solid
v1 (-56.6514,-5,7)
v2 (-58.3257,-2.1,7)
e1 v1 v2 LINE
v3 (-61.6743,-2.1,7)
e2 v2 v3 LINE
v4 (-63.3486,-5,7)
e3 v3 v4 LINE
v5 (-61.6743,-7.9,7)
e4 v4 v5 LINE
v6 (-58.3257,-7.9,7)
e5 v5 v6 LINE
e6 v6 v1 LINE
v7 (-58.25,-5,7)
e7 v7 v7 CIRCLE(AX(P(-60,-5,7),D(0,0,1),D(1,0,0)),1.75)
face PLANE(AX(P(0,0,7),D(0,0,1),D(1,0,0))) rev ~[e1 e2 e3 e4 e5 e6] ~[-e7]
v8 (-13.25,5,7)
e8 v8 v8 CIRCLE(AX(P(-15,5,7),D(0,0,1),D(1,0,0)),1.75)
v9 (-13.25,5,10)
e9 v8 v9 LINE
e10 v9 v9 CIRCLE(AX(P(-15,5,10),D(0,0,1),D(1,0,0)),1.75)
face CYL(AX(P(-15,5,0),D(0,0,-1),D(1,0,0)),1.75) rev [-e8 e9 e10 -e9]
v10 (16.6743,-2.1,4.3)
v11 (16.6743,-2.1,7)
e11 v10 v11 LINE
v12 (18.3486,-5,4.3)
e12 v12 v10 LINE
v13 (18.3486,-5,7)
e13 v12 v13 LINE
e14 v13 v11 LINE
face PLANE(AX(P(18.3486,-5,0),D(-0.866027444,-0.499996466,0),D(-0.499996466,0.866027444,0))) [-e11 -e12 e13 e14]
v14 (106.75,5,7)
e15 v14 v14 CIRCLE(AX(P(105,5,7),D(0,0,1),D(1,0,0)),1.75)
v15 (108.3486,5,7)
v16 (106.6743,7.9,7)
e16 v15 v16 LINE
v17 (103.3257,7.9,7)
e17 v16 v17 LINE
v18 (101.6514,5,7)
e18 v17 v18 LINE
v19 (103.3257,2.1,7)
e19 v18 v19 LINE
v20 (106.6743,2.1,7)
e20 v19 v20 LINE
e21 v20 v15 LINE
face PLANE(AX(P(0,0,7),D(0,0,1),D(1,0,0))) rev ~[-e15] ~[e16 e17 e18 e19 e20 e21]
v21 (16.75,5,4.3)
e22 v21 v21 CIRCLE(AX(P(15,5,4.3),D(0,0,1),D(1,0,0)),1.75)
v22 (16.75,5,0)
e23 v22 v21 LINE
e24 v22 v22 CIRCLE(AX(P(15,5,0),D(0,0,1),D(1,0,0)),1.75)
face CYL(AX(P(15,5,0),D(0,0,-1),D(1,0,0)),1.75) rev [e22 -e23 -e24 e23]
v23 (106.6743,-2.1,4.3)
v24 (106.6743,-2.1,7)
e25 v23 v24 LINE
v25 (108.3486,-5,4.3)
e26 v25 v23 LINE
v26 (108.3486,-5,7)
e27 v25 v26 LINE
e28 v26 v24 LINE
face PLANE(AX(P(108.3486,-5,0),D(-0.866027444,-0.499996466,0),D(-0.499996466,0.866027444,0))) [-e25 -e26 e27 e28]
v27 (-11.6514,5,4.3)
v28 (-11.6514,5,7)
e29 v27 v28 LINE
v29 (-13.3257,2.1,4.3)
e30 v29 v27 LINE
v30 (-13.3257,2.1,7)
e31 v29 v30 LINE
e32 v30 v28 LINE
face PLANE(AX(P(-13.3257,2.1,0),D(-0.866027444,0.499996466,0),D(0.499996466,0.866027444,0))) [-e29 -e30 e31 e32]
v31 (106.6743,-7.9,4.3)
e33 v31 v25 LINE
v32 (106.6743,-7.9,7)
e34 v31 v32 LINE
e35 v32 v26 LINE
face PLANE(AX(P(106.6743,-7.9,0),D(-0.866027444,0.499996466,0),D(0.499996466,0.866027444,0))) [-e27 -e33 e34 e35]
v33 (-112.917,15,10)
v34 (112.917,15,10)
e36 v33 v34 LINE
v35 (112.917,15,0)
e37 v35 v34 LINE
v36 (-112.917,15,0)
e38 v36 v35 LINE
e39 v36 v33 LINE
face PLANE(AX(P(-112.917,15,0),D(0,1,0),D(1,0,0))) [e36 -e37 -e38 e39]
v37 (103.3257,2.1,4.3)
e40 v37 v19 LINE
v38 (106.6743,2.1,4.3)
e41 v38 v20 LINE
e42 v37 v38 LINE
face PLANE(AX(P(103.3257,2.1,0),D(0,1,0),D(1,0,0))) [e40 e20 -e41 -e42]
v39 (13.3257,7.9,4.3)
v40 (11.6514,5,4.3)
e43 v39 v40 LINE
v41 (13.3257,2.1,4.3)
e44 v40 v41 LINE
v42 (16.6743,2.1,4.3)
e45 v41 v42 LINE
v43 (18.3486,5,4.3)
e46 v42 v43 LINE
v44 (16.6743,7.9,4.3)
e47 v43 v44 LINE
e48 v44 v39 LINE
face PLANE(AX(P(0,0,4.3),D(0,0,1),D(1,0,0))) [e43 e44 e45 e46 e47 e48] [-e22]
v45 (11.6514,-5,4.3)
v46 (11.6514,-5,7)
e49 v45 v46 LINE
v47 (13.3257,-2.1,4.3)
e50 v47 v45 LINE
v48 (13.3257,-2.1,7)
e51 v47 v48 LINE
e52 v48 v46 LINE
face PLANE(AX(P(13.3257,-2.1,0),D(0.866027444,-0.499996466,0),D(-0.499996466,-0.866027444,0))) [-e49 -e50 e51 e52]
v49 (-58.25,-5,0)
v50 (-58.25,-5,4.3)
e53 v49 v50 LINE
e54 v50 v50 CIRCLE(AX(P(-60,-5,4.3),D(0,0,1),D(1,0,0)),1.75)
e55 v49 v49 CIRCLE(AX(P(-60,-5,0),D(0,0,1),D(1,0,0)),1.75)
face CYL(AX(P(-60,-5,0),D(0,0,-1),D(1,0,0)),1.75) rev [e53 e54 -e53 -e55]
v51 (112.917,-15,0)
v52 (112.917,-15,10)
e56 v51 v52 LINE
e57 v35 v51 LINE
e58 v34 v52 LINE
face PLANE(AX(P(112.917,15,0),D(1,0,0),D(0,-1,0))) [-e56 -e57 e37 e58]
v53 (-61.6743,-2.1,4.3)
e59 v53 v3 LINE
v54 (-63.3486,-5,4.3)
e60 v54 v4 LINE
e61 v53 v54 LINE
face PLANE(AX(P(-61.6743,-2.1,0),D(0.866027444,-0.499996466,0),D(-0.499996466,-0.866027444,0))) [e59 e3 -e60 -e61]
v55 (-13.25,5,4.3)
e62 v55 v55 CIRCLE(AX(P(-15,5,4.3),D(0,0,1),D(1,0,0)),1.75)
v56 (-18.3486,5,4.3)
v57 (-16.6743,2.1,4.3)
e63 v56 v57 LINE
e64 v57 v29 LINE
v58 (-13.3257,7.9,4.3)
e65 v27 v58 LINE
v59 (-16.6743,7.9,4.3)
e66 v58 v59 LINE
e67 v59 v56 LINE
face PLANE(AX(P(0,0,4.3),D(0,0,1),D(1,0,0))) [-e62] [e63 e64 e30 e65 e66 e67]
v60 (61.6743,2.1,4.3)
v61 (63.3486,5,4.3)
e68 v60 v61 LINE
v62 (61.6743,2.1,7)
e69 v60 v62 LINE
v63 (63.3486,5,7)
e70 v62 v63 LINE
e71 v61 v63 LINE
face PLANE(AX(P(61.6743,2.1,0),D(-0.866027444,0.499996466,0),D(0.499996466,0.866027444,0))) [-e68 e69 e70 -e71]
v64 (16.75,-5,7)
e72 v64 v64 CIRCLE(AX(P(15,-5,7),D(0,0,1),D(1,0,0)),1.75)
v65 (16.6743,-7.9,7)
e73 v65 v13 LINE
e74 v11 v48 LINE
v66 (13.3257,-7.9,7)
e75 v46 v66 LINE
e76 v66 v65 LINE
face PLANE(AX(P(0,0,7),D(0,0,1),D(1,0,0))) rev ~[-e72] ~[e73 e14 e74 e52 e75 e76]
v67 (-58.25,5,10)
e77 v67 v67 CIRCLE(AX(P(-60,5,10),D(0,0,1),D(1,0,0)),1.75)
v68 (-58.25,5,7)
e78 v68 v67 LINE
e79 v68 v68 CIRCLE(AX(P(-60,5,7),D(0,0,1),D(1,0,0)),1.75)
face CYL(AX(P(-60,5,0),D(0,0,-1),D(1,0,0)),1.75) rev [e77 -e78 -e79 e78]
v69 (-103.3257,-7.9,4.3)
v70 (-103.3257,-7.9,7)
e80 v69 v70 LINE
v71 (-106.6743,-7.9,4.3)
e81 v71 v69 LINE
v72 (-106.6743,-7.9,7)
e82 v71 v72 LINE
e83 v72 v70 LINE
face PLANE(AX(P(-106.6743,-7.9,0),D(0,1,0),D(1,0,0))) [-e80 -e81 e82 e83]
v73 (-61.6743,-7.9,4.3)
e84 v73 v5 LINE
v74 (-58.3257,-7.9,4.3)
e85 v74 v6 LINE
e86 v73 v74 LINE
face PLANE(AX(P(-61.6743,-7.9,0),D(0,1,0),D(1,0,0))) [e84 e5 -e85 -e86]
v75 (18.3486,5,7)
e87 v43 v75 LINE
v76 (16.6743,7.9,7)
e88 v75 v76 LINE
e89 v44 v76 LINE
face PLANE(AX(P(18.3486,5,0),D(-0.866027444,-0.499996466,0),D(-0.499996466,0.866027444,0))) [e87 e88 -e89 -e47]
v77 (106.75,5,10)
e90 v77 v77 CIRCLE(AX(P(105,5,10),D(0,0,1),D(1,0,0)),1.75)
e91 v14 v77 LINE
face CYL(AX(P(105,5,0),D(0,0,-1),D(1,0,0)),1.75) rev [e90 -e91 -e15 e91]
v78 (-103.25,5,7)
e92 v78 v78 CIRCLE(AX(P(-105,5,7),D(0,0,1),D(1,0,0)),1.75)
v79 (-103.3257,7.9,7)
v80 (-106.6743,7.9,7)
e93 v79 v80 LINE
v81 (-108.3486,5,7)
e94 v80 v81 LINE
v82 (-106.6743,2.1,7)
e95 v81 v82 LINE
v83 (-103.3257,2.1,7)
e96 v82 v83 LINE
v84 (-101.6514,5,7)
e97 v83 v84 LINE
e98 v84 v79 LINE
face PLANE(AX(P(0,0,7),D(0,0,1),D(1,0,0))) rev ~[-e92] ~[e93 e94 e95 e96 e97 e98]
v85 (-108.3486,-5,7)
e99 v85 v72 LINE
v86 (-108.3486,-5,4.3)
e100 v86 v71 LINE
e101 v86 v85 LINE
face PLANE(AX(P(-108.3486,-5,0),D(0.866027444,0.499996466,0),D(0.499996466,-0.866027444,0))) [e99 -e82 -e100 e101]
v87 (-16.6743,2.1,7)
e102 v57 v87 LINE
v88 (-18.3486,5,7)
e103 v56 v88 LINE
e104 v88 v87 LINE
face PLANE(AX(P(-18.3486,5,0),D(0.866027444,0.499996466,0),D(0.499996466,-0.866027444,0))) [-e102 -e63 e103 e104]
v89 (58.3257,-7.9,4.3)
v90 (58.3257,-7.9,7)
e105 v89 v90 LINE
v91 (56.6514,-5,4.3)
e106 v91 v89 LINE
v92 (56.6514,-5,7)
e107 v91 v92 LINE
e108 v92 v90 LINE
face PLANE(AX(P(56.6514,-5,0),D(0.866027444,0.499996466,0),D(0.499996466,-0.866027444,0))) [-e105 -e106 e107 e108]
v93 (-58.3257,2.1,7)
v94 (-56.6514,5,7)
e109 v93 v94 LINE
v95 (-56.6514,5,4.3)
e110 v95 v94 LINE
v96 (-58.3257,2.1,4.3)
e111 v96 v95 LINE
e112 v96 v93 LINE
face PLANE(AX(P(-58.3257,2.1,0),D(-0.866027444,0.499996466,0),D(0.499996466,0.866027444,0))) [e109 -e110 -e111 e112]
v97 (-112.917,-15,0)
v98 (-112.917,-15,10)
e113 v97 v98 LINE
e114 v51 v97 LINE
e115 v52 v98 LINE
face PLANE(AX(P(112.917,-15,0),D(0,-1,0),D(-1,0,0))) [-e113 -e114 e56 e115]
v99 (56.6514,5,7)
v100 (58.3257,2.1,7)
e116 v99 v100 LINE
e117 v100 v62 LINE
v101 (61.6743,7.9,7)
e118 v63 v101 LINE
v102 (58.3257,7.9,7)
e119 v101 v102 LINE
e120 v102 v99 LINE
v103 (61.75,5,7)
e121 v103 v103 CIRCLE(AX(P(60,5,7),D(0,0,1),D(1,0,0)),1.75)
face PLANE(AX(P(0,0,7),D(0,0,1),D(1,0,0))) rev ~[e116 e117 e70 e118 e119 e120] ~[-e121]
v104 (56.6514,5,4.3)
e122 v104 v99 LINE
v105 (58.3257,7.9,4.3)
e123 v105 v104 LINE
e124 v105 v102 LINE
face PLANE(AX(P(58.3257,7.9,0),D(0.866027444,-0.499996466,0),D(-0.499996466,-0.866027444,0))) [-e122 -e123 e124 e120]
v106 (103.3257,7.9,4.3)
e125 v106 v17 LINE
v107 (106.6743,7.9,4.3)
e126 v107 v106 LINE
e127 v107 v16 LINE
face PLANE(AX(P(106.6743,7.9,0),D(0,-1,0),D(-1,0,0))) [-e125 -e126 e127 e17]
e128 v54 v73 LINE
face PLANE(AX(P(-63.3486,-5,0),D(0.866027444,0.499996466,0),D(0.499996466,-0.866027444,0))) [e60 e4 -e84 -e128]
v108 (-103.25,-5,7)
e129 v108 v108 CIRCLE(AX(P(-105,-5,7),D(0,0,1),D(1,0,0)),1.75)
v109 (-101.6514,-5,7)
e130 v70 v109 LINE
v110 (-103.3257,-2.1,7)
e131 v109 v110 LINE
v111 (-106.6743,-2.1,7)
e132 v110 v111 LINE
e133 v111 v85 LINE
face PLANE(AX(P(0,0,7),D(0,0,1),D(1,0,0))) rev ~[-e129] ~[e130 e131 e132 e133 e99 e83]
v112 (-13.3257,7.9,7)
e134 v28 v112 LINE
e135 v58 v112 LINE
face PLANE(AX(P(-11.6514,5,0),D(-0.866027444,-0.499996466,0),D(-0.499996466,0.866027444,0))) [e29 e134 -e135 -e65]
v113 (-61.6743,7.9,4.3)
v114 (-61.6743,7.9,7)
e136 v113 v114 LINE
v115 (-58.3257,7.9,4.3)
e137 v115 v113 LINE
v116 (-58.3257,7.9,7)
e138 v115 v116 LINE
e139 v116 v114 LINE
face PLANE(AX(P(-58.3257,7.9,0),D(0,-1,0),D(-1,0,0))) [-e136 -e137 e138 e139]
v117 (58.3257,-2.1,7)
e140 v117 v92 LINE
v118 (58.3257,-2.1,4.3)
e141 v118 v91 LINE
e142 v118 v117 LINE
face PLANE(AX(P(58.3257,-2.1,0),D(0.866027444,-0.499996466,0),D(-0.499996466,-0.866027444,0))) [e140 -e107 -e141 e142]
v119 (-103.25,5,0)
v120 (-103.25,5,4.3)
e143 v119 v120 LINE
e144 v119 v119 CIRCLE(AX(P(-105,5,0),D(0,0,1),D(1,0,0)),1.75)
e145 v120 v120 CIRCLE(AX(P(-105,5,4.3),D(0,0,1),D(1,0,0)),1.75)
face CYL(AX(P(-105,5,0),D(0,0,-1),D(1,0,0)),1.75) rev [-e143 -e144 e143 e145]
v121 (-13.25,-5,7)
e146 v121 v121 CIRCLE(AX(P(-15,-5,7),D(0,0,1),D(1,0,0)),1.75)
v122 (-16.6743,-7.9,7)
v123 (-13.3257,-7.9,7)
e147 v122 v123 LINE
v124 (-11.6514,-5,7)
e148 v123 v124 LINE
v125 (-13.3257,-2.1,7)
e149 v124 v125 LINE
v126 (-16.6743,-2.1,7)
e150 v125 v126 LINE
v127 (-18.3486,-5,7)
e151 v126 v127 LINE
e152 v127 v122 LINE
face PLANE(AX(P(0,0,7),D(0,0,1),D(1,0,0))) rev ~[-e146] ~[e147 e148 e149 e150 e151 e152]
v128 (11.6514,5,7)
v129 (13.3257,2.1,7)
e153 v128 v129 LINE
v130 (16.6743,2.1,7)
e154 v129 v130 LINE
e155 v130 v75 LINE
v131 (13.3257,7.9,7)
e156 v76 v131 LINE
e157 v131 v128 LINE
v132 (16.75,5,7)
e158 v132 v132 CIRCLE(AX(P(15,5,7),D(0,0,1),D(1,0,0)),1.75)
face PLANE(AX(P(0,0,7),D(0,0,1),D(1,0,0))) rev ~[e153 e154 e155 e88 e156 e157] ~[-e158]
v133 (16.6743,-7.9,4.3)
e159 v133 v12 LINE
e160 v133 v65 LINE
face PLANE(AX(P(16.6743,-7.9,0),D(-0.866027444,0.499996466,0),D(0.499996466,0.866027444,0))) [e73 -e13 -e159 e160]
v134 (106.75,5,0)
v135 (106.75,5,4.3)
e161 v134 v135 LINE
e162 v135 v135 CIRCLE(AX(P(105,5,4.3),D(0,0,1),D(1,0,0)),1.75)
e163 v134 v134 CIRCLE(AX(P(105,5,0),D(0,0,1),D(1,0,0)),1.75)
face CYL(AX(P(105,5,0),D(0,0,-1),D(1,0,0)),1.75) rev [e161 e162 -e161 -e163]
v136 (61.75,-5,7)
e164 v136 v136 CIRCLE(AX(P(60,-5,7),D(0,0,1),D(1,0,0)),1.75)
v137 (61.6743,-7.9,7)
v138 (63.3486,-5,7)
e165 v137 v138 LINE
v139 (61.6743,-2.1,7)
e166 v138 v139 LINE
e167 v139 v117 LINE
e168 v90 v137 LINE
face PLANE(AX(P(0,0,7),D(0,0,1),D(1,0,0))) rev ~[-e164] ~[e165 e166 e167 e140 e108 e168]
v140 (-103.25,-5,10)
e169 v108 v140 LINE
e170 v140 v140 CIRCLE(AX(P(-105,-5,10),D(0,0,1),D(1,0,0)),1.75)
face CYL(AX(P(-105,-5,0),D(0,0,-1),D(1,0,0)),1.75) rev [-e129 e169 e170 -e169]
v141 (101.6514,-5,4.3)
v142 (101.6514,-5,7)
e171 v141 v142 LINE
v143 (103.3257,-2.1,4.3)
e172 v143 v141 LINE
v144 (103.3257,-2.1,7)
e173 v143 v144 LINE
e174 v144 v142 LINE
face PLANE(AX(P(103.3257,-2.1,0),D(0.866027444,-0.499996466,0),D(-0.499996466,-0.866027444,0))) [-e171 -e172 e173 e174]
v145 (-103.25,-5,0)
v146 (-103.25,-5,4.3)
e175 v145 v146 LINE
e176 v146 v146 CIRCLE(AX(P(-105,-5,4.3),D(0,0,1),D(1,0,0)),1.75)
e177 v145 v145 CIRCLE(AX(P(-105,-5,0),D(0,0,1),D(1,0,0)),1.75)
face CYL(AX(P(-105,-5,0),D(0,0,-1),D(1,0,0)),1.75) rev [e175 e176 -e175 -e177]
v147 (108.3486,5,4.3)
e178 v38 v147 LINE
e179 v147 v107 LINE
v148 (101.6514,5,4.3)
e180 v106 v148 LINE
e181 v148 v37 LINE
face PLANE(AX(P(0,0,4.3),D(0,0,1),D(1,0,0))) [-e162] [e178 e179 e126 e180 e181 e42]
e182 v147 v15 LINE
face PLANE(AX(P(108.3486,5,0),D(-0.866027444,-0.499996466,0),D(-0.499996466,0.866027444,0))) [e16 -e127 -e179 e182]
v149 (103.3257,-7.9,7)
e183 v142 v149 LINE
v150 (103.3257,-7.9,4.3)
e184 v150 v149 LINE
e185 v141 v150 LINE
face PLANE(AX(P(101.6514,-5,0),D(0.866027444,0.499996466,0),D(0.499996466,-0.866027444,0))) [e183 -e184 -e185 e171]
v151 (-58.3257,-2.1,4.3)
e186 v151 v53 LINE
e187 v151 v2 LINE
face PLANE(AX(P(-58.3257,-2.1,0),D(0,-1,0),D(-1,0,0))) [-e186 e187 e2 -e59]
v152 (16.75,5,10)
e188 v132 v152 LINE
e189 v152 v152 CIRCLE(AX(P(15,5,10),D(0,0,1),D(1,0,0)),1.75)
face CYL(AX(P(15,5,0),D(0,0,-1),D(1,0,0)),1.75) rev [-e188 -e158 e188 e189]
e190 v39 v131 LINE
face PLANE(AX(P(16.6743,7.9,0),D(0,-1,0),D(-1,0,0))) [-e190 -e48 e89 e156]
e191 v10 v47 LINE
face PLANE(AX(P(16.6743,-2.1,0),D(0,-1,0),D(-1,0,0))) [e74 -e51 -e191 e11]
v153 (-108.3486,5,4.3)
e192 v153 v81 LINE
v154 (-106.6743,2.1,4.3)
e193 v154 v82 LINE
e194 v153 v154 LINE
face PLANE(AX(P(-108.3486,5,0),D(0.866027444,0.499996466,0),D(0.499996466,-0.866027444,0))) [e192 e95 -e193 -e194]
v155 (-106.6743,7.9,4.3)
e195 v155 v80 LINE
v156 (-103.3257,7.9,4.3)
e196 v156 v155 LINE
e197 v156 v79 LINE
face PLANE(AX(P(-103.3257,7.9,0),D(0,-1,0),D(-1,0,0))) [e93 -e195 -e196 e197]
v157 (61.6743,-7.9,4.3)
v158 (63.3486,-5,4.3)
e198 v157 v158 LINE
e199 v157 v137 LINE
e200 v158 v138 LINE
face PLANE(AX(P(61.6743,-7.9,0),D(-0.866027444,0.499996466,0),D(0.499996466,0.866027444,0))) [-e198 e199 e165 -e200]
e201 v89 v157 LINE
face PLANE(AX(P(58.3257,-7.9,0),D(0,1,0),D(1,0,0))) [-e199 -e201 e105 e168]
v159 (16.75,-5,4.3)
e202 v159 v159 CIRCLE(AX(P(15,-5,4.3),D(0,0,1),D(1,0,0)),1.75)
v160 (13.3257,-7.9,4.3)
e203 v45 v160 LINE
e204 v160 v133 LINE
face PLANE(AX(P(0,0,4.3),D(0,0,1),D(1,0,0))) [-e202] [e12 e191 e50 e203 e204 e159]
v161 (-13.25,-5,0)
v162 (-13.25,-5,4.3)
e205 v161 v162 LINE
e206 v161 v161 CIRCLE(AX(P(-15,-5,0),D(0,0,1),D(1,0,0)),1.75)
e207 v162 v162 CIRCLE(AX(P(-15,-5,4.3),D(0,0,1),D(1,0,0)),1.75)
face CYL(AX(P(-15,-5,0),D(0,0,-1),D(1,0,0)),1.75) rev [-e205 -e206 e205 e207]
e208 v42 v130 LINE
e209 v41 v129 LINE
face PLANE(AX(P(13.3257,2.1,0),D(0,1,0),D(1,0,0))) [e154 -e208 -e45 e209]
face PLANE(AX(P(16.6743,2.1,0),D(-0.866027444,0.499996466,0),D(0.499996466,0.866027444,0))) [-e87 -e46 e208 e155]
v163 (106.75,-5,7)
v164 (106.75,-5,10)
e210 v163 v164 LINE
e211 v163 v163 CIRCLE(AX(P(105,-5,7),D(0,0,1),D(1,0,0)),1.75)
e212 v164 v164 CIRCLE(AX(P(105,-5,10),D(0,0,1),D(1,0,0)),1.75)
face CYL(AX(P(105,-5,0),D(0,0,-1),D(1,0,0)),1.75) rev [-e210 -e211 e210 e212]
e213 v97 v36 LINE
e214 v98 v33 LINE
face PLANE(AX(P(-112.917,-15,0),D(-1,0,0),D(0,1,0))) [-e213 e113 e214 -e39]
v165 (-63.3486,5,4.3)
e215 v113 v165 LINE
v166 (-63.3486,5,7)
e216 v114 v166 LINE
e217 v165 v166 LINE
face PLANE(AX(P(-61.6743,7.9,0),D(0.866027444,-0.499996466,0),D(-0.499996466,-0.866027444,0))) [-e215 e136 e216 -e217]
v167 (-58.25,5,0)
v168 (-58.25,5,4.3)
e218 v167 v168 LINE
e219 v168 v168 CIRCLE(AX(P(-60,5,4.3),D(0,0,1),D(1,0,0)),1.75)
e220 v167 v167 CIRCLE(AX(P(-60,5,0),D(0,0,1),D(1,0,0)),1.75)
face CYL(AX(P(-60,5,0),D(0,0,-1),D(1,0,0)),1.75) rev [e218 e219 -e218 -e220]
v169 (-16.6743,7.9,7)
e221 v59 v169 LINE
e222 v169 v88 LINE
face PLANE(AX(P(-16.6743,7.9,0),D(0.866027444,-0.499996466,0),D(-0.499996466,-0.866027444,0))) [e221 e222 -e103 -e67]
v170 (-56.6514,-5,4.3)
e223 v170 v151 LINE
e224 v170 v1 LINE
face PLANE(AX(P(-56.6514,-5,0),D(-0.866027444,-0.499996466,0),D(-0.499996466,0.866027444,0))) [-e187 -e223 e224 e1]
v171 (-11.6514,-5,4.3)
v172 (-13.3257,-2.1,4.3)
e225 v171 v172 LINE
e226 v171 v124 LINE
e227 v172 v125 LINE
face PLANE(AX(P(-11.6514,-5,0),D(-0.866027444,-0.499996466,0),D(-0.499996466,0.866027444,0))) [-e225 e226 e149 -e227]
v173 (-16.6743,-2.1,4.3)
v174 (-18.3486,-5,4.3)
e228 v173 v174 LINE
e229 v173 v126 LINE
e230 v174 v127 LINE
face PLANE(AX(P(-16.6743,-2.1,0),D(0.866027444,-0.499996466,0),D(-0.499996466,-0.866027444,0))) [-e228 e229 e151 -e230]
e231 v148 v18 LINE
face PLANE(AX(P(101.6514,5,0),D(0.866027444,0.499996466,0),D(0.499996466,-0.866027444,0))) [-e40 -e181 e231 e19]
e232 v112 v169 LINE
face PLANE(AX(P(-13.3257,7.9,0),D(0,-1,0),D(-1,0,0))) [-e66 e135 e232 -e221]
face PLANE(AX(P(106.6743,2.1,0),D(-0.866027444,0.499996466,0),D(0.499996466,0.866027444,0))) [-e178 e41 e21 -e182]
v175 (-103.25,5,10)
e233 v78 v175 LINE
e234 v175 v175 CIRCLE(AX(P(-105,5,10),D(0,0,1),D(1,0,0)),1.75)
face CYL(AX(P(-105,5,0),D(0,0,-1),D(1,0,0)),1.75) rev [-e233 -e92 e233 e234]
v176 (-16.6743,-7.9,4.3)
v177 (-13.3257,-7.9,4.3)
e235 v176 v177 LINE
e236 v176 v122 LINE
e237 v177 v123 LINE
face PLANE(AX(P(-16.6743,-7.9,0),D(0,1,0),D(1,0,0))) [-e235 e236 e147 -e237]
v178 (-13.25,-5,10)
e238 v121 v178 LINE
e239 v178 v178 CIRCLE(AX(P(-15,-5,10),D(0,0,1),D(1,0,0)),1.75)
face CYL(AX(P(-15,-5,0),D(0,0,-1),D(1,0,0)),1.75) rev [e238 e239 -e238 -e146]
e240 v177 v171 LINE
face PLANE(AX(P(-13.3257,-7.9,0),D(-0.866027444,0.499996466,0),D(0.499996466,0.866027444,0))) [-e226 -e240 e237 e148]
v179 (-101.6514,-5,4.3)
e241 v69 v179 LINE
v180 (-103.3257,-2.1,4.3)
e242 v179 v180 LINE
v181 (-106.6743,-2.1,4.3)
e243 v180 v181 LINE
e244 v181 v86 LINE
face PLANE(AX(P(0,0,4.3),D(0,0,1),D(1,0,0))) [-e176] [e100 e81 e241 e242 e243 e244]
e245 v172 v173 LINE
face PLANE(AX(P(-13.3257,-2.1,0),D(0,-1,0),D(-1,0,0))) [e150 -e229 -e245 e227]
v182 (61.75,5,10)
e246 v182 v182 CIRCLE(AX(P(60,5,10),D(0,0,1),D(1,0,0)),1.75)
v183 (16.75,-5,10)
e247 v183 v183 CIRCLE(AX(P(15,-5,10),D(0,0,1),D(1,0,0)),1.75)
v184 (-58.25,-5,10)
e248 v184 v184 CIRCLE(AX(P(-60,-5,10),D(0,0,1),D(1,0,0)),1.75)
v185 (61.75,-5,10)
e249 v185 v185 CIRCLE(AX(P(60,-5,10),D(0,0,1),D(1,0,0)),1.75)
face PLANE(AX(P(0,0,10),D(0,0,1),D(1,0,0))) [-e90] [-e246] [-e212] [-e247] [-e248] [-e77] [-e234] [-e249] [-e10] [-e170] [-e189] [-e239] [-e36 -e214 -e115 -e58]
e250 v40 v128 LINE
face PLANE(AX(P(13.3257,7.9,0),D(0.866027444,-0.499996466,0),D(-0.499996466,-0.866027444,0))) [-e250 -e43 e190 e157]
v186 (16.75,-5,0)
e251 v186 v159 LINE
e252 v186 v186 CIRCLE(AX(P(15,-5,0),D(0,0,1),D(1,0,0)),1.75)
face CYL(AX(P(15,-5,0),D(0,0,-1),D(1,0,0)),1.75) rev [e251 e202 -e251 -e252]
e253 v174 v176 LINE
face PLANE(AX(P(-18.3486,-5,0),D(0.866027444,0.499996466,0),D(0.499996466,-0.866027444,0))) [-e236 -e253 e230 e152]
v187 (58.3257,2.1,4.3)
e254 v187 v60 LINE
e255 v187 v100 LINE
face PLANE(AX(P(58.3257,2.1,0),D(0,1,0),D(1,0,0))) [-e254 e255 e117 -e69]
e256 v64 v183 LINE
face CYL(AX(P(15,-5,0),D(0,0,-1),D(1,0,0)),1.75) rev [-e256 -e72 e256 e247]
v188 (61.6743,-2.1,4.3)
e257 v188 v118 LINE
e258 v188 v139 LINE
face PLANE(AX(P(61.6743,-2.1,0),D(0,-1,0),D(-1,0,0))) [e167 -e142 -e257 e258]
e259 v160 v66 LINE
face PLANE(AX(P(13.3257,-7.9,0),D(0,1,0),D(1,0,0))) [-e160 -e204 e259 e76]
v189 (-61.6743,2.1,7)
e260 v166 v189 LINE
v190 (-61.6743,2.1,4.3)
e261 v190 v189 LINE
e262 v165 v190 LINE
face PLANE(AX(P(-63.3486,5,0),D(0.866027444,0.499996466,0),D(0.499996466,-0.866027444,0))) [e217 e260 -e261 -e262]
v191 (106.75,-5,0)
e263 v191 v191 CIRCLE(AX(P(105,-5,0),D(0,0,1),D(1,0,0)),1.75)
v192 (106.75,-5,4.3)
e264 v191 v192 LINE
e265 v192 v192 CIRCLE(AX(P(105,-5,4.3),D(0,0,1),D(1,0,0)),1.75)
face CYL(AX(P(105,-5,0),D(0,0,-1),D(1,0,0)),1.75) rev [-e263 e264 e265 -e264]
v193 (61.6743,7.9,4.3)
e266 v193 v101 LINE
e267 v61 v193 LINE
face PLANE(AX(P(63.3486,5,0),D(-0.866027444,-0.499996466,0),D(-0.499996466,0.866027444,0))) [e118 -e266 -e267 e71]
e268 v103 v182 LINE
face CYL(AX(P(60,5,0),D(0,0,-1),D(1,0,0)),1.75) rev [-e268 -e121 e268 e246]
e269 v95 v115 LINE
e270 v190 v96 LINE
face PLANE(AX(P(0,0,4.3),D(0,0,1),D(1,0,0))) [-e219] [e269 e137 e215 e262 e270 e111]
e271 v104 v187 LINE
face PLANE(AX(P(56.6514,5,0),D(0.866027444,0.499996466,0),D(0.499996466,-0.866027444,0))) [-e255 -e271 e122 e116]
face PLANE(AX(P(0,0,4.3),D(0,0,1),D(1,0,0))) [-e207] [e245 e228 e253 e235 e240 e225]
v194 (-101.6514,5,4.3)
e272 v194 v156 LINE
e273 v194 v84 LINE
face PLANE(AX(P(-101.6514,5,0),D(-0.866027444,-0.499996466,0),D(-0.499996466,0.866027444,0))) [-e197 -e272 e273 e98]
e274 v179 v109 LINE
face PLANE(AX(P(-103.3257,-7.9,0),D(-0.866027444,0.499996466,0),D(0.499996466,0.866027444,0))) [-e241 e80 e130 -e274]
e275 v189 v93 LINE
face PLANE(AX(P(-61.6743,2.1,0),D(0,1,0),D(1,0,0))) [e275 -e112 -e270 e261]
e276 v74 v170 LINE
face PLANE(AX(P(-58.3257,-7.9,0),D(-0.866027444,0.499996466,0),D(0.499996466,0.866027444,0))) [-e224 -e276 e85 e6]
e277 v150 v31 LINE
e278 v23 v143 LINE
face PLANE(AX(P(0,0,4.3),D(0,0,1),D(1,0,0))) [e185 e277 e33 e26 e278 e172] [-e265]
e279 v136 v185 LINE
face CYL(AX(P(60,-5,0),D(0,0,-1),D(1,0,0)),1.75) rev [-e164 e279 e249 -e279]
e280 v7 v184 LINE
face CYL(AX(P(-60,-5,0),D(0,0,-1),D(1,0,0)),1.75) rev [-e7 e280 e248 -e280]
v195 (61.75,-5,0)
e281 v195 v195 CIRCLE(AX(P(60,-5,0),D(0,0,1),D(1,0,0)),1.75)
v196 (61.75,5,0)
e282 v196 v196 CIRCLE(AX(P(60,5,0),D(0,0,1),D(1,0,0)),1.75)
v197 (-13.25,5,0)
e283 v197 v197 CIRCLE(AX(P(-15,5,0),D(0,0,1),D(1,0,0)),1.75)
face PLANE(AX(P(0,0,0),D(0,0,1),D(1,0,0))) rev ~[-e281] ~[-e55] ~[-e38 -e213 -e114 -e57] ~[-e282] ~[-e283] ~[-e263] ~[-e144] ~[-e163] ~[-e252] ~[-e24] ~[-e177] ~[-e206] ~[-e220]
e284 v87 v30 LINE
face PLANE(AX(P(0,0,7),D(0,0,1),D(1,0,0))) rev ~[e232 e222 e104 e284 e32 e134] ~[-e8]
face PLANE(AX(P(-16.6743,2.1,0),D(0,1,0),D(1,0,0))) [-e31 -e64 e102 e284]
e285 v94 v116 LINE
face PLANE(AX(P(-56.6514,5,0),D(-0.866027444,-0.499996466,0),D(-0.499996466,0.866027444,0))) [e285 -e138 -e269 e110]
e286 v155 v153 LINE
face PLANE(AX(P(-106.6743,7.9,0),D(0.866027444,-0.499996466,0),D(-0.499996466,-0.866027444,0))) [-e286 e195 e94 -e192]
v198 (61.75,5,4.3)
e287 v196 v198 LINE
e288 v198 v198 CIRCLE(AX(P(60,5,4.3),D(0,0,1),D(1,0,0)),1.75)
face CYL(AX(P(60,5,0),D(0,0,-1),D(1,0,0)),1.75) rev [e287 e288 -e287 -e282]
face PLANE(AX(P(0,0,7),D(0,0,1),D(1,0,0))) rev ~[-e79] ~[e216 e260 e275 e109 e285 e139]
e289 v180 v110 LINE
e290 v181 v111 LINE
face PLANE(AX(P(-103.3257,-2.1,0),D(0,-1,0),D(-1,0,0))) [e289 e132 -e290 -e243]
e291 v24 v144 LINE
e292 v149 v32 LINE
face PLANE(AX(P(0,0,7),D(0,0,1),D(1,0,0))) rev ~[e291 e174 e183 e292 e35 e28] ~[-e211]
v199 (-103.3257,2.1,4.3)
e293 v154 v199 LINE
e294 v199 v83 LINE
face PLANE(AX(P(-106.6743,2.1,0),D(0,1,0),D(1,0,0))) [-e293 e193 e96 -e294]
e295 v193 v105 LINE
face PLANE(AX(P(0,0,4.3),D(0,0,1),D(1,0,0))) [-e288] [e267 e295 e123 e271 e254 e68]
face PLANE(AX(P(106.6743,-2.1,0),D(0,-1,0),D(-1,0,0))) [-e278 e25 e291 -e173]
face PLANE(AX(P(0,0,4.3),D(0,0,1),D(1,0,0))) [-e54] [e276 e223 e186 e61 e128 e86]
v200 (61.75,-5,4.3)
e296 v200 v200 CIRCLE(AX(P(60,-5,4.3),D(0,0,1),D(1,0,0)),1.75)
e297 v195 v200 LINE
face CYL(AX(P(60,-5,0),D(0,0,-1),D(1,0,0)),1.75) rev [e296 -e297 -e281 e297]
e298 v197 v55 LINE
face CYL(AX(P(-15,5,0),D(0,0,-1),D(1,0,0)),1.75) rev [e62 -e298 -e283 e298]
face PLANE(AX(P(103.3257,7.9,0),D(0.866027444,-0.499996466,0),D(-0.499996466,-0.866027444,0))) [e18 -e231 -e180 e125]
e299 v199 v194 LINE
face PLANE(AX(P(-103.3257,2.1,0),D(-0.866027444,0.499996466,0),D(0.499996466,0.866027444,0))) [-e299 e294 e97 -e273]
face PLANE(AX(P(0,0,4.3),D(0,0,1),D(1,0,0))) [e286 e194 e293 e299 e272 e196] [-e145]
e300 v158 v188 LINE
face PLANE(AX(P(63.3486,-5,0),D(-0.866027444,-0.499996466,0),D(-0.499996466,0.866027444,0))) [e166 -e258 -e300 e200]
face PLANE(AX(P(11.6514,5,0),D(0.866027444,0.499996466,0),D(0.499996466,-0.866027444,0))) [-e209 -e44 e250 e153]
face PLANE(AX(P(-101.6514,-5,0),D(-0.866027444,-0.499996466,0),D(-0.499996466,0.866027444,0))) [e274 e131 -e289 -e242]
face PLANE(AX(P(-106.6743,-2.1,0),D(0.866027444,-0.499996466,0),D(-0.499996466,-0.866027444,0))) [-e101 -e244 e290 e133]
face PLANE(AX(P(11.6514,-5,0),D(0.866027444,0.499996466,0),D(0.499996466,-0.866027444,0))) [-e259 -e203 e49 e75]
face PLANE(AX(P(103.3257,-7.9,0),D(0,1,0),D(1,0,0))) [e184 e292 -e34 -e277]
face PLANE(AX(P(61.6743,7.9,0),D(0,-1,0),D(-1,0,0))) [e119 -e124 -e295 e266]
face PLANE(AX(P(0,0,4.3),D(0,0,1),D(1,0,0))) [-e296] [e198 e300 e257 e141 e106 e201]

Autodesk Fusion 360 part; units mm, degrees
sketch "Skizze1" plane through (0, 0, 0) normal (0, 0, 1) x (1, 0, 0)
  line L0 (-127.7175, 0) -> (128.4747, 0) construction
  line L1 (0, 28.1433) -> (0, -31.677) construction
  line L2 (112.917, -15) -> (-112.917, -15)
  line L3 (-112.917, -15) -> (-112.917, 15)
  line L4 (-112.917, 15) -> (112.917, 15)
  line L5 (112.917, 15) -> (112.917, -15)
  line L6 (112.917, -15) -> (-112.917, 15) construction
  line L7 (-112.917, -15) -> (112.917, 15) construction
  line L8 (-118.6623, 5) -> (123.5472, 5) construction
  line L9 (-118.6623, -5) -> (120, -5) construction
  line L10 (15, 23.5796) -> (15, -25.7429) construction
  line L11 (-15, 27) -> (-15, -27) construction
  circle A0 centre (-15, 5) radius 1.75
  circle A1 centre (-15, -5) radius 1.75
  circle A2 centre (15, 5) radius 1.75
  circle A3 centre (15, -5) radius 1.75
  line L12 (-13.3257, 2.1) -> (-11.6514, 5)
  line L13 (-11.6514, 5) -> (-13.3257, 7.9)
  line L14 (-13.3257, 7.9) -> (-16.6743, 7.9)
  line L15 (-16.6743, 7.9) -> (-18.3486, 5)
  line L16 (-18.3486, 5) -> (-16.6743, 2.1)
  line L17 (-16.6743, 2.1) -> (-13.3257, 2.1)
  line L18 (-13.3257, -7.9) -> (-11.6514, -5)
  line L19 (-11.6514, -5) -> (-13.3257, -2.1)
  line L20 (-13.3257, -2.1) -> (-16.6743, -2.1)
  line L21 (-16.6743, -2.1) -> (-18.3486, -5)
  line L22 (-18.3486, -5) -> (-16.6743, -7.9)
  line L23 (-16.6743, -7.9) -> (-13.3257, -7.9)
  line L24 (16.6743, 2.1) -> (18.3486, 5)
  line L25 (18.3486, 5) -> (16.6743, 7.9)
  line L26 (16.6743, 7.9) -> (13.3257, 7.9)
  line L27 (13.3257, 7.9) -> (11.6514, 5)
  line L28 (11.6514, 5) -> (13.3257, 2.1)
  line L29 (13.3257, 2.1) -> (16.6743, 2.1)
  line L30 (16.6743, -7.9) -> (18.3486, -5)
  line L31 (18.3486, -5) -> (16.6743, -2.1)
  line L32 (16.6743, -2.1) -> (13.3257, -2.1)
  line L33 (13.3257, -2.1) -> (11.6514, -5)
  line L34 (11.6514, -5) -> (13.3257, -7.9)
  line L35 (13.3257, -7.9) -> (16.6743, -7.9)
  line L36 (58.3257, 7.9) -> (56.6514, 5)
  line L37 (56.6514, 5) -> (58.3257, 2.1)
  line L38 (58.3257, 2.1) -> (61.6743, 2.1)
  line L39 (61.6743, 2.1) -> (63.3486, 5)
  line L40 (63.3486, 5) -> (61.6743, 7.9)
  line L41 (61.6743, 7.9) -> (58.3257, 7.9)
  circle A4 centre (60, 5) radius 1.75
  line L42 (58.3257, -2.1) -> (56.6514, -5)
  line L43 (56.6514, -5) -> (58.3257, -7.9)
  line L44 (58.3257, -7.9) -> (61.6743, -7.9)
  line L45 (61.6743, -7.9) -> (63.3486, -5)
  line L46 (61.6743, -2.1) -> (58.3257, -2.1)
  line L47 (63.3486, -5) -> (61.6743, -2.1)
  circle A5 centre (60, -5) radius 1.75
  line L48 (103.3257, 7.9) -> (101.6514, 5)
  line L49 (101.6514, 5) -> (103.3257, 2.1)
  line L50 (103.3257, 2.1) -> (106.6743, 2.1)
  line L51 (106.6743, 2.1) -> (108.3486, 5)
  line L52 (108.3486, 5) -> (106.6743, 7.9)
  line L53 (106.6743, 7.9) -> (103.3257, 7.9)
  circle A6 centre (105, 5) radius 1.75
  line L54 (103.3257, -2.1) -> (101.6514, -5)
  line L55 (101.6514, -5) -> (103.3257, -7.9)
  line L56 (103.3257, -7.9) -> (106.6743, -7.9)
  line L57 (106.6743, -7.9) -> (108.3486, -5)
  line L58 (106.6743, -2.1) -> (103.3257, -2.1)
  line L59 (108.3486, -5) -> (106.6743, -2.1)
  circle A7 centre (105, -5) radius 1.75
  line L60 (-58.3257, 7.9) -> (-61.6743, 7.9)
  line L61 (-61.6743, 7.9) -> (-63.3486, 5)
  line L62 (-63.3486, 5) -> (-61.6743, 2.1)
  line L63 (-61.6743, 2.1) -> (-58.3257, 2.1)
  line L64 (-58.3257, 2.1) -> (-56.6514, 5)
  line L65 (-56.6514, 5) -> (-58.3257, 7.9)
  circle A8 centre (-60, 5) radius 1.75
  line L66 (-61.6743, -2.1) -> (-63.3486, -5)
  line L67 (-63.3486, -5) -> (-61.6743, -7.9)
  line L68 (-61.6743, -7.9) -> (-58.3257, -7.9)
  line L69 (-58.3257, -7.9) -> (-56.6514, -5)
  line L70 (-58.3257, -2.1) -> (-61.6743, -2.1)
  line L71 (-56.6514, -5) -> (-58.3257, -2.1)
  circle A9 centre (-60, -5) radius 1.75
  line L72 (-103.3257, 7.9) -> (-106.6743, 7.9)
  line L73 (-106.6743, 7.9) -> (-108.3486, 5)
  line L74 (-108.3486, 5) -> (-106.6743, 2.1)
  line L75 (-106.6743, 2.1) -> (-103.3257, 2.1)
  line L76 (-103.3257, 2.1) -> (-101.6514, 5)
  line L77 (-101.6514, 5) -> (-103.3257, 7.9)
  circle A10 centre (-105, 5) radius 1.75
  line L78 (-106.6743, -2.1) -> (-108.3486, -5)
  line L79 (-108.3486, -5) -> (-106.6743, -7.9)
  line L80 (-106.6743, -7.9) -> (-103.3257, -7.9)
  line L81 (-103.3257, -7.9) -> (-101.6514, -5)
  line L82 (-103.3257, -2.1) -> (-106.6743, -2.1)
  line L83 (-101.6514, -5) -> (-103.3257, -2.1)
  circle A11 centre (-105, -5) radius 1.75
  point P0 (-15, 5)
  point P1 (-15, -5)
  point P2 (15, 5)
  point P3 (15, -5)
  dimension "d1" = 225.834
  dimension "d2" = 30
  dimension "d3" = 5
  dimension "d4" = 5
  dimension "d5" = 15
  dimension "d6" = 15
  dimension "d7" = 3.5
  dimension "d8" = 3.5
  dimension "d9" = 3.5
  dimension "d10" = 3.5
  dimension "d11" = 5.8
  dimension "d12" = 5.8
  dimension "d13" = 5.8
  dimension "d14" = 5.8
  dimension "d17" = 90
  dimension "d18" = 0
  dimension "d21" = -90
  dimension "d22" = 0
extrude "Extrusion1" add sketch "Skizze1" along normal blind 10 contours L2 L3 L4 L5 | L12 L13 L14 L15 L16 L17 | L18 L19 L20 L21 L22 L23 | L24 L25 L26 L27 L28 L29 | L30 L31 L32 L33 L34 L35 | L36 L37 L38 L39 L40 L41 | L42 L43 L44 L45 L46 L47 | L48 L49 L50 L51 L52 L53 | L54 L55 L56 L57 L58 L59 | L60 L61 L62 L63 L64 L65 | L66 L67 L68 L69 L70 L71 | L72 L73 L74 L75 L76 L77 | L78 L79 L80 L81 L82 L83
extrude "Extrusion2" cut sketch "Skizze1" along normal blind 7 contours L12 L13 L14 L15 L16 L17 | L18 L19 L20 L21 L22 L23 | L24 L25 L26 L27 L28 L29 | L30 L31 L32 L33 L34 L35 | L36 L37 L38 L39 L40 L41 | L42 L43 L44 L45 L46 L47 | L48 L49 L50 L51 L52 L53 | L54 L55 L56 L57 L58 L59 | L60 L61 L62 L63 L64 L65 | L66 L67 L68 L69 L70 L71 | L72 L73 L74 L75 L76 L77 | L78 L79 L80 L81 L82 L83
extrude "Extrusion3" add sketch "Skizze1" along normal blind 4.3 contours L12 L13 L14 L15 L16 L17 | L18 L19 L20 L21 L22 L23 | L24 L25 L26 L27 L28 L29 | L30 L31 L32 L33 L34 L35 | L36 L37 L38 L39 L40 L41 | L42 L43 L44 L45 L46 L47 | L48 L49 L50 L51 L52 L53 | L54 L55 L56 L57 L58 L59 | L60 L61 L62 L63 L64 L65 | L66 L67 L68 L69 L70 L71 | L72 L73 L74 L75 L76 L77 | L78 L79 L80 L81 L82 L83
